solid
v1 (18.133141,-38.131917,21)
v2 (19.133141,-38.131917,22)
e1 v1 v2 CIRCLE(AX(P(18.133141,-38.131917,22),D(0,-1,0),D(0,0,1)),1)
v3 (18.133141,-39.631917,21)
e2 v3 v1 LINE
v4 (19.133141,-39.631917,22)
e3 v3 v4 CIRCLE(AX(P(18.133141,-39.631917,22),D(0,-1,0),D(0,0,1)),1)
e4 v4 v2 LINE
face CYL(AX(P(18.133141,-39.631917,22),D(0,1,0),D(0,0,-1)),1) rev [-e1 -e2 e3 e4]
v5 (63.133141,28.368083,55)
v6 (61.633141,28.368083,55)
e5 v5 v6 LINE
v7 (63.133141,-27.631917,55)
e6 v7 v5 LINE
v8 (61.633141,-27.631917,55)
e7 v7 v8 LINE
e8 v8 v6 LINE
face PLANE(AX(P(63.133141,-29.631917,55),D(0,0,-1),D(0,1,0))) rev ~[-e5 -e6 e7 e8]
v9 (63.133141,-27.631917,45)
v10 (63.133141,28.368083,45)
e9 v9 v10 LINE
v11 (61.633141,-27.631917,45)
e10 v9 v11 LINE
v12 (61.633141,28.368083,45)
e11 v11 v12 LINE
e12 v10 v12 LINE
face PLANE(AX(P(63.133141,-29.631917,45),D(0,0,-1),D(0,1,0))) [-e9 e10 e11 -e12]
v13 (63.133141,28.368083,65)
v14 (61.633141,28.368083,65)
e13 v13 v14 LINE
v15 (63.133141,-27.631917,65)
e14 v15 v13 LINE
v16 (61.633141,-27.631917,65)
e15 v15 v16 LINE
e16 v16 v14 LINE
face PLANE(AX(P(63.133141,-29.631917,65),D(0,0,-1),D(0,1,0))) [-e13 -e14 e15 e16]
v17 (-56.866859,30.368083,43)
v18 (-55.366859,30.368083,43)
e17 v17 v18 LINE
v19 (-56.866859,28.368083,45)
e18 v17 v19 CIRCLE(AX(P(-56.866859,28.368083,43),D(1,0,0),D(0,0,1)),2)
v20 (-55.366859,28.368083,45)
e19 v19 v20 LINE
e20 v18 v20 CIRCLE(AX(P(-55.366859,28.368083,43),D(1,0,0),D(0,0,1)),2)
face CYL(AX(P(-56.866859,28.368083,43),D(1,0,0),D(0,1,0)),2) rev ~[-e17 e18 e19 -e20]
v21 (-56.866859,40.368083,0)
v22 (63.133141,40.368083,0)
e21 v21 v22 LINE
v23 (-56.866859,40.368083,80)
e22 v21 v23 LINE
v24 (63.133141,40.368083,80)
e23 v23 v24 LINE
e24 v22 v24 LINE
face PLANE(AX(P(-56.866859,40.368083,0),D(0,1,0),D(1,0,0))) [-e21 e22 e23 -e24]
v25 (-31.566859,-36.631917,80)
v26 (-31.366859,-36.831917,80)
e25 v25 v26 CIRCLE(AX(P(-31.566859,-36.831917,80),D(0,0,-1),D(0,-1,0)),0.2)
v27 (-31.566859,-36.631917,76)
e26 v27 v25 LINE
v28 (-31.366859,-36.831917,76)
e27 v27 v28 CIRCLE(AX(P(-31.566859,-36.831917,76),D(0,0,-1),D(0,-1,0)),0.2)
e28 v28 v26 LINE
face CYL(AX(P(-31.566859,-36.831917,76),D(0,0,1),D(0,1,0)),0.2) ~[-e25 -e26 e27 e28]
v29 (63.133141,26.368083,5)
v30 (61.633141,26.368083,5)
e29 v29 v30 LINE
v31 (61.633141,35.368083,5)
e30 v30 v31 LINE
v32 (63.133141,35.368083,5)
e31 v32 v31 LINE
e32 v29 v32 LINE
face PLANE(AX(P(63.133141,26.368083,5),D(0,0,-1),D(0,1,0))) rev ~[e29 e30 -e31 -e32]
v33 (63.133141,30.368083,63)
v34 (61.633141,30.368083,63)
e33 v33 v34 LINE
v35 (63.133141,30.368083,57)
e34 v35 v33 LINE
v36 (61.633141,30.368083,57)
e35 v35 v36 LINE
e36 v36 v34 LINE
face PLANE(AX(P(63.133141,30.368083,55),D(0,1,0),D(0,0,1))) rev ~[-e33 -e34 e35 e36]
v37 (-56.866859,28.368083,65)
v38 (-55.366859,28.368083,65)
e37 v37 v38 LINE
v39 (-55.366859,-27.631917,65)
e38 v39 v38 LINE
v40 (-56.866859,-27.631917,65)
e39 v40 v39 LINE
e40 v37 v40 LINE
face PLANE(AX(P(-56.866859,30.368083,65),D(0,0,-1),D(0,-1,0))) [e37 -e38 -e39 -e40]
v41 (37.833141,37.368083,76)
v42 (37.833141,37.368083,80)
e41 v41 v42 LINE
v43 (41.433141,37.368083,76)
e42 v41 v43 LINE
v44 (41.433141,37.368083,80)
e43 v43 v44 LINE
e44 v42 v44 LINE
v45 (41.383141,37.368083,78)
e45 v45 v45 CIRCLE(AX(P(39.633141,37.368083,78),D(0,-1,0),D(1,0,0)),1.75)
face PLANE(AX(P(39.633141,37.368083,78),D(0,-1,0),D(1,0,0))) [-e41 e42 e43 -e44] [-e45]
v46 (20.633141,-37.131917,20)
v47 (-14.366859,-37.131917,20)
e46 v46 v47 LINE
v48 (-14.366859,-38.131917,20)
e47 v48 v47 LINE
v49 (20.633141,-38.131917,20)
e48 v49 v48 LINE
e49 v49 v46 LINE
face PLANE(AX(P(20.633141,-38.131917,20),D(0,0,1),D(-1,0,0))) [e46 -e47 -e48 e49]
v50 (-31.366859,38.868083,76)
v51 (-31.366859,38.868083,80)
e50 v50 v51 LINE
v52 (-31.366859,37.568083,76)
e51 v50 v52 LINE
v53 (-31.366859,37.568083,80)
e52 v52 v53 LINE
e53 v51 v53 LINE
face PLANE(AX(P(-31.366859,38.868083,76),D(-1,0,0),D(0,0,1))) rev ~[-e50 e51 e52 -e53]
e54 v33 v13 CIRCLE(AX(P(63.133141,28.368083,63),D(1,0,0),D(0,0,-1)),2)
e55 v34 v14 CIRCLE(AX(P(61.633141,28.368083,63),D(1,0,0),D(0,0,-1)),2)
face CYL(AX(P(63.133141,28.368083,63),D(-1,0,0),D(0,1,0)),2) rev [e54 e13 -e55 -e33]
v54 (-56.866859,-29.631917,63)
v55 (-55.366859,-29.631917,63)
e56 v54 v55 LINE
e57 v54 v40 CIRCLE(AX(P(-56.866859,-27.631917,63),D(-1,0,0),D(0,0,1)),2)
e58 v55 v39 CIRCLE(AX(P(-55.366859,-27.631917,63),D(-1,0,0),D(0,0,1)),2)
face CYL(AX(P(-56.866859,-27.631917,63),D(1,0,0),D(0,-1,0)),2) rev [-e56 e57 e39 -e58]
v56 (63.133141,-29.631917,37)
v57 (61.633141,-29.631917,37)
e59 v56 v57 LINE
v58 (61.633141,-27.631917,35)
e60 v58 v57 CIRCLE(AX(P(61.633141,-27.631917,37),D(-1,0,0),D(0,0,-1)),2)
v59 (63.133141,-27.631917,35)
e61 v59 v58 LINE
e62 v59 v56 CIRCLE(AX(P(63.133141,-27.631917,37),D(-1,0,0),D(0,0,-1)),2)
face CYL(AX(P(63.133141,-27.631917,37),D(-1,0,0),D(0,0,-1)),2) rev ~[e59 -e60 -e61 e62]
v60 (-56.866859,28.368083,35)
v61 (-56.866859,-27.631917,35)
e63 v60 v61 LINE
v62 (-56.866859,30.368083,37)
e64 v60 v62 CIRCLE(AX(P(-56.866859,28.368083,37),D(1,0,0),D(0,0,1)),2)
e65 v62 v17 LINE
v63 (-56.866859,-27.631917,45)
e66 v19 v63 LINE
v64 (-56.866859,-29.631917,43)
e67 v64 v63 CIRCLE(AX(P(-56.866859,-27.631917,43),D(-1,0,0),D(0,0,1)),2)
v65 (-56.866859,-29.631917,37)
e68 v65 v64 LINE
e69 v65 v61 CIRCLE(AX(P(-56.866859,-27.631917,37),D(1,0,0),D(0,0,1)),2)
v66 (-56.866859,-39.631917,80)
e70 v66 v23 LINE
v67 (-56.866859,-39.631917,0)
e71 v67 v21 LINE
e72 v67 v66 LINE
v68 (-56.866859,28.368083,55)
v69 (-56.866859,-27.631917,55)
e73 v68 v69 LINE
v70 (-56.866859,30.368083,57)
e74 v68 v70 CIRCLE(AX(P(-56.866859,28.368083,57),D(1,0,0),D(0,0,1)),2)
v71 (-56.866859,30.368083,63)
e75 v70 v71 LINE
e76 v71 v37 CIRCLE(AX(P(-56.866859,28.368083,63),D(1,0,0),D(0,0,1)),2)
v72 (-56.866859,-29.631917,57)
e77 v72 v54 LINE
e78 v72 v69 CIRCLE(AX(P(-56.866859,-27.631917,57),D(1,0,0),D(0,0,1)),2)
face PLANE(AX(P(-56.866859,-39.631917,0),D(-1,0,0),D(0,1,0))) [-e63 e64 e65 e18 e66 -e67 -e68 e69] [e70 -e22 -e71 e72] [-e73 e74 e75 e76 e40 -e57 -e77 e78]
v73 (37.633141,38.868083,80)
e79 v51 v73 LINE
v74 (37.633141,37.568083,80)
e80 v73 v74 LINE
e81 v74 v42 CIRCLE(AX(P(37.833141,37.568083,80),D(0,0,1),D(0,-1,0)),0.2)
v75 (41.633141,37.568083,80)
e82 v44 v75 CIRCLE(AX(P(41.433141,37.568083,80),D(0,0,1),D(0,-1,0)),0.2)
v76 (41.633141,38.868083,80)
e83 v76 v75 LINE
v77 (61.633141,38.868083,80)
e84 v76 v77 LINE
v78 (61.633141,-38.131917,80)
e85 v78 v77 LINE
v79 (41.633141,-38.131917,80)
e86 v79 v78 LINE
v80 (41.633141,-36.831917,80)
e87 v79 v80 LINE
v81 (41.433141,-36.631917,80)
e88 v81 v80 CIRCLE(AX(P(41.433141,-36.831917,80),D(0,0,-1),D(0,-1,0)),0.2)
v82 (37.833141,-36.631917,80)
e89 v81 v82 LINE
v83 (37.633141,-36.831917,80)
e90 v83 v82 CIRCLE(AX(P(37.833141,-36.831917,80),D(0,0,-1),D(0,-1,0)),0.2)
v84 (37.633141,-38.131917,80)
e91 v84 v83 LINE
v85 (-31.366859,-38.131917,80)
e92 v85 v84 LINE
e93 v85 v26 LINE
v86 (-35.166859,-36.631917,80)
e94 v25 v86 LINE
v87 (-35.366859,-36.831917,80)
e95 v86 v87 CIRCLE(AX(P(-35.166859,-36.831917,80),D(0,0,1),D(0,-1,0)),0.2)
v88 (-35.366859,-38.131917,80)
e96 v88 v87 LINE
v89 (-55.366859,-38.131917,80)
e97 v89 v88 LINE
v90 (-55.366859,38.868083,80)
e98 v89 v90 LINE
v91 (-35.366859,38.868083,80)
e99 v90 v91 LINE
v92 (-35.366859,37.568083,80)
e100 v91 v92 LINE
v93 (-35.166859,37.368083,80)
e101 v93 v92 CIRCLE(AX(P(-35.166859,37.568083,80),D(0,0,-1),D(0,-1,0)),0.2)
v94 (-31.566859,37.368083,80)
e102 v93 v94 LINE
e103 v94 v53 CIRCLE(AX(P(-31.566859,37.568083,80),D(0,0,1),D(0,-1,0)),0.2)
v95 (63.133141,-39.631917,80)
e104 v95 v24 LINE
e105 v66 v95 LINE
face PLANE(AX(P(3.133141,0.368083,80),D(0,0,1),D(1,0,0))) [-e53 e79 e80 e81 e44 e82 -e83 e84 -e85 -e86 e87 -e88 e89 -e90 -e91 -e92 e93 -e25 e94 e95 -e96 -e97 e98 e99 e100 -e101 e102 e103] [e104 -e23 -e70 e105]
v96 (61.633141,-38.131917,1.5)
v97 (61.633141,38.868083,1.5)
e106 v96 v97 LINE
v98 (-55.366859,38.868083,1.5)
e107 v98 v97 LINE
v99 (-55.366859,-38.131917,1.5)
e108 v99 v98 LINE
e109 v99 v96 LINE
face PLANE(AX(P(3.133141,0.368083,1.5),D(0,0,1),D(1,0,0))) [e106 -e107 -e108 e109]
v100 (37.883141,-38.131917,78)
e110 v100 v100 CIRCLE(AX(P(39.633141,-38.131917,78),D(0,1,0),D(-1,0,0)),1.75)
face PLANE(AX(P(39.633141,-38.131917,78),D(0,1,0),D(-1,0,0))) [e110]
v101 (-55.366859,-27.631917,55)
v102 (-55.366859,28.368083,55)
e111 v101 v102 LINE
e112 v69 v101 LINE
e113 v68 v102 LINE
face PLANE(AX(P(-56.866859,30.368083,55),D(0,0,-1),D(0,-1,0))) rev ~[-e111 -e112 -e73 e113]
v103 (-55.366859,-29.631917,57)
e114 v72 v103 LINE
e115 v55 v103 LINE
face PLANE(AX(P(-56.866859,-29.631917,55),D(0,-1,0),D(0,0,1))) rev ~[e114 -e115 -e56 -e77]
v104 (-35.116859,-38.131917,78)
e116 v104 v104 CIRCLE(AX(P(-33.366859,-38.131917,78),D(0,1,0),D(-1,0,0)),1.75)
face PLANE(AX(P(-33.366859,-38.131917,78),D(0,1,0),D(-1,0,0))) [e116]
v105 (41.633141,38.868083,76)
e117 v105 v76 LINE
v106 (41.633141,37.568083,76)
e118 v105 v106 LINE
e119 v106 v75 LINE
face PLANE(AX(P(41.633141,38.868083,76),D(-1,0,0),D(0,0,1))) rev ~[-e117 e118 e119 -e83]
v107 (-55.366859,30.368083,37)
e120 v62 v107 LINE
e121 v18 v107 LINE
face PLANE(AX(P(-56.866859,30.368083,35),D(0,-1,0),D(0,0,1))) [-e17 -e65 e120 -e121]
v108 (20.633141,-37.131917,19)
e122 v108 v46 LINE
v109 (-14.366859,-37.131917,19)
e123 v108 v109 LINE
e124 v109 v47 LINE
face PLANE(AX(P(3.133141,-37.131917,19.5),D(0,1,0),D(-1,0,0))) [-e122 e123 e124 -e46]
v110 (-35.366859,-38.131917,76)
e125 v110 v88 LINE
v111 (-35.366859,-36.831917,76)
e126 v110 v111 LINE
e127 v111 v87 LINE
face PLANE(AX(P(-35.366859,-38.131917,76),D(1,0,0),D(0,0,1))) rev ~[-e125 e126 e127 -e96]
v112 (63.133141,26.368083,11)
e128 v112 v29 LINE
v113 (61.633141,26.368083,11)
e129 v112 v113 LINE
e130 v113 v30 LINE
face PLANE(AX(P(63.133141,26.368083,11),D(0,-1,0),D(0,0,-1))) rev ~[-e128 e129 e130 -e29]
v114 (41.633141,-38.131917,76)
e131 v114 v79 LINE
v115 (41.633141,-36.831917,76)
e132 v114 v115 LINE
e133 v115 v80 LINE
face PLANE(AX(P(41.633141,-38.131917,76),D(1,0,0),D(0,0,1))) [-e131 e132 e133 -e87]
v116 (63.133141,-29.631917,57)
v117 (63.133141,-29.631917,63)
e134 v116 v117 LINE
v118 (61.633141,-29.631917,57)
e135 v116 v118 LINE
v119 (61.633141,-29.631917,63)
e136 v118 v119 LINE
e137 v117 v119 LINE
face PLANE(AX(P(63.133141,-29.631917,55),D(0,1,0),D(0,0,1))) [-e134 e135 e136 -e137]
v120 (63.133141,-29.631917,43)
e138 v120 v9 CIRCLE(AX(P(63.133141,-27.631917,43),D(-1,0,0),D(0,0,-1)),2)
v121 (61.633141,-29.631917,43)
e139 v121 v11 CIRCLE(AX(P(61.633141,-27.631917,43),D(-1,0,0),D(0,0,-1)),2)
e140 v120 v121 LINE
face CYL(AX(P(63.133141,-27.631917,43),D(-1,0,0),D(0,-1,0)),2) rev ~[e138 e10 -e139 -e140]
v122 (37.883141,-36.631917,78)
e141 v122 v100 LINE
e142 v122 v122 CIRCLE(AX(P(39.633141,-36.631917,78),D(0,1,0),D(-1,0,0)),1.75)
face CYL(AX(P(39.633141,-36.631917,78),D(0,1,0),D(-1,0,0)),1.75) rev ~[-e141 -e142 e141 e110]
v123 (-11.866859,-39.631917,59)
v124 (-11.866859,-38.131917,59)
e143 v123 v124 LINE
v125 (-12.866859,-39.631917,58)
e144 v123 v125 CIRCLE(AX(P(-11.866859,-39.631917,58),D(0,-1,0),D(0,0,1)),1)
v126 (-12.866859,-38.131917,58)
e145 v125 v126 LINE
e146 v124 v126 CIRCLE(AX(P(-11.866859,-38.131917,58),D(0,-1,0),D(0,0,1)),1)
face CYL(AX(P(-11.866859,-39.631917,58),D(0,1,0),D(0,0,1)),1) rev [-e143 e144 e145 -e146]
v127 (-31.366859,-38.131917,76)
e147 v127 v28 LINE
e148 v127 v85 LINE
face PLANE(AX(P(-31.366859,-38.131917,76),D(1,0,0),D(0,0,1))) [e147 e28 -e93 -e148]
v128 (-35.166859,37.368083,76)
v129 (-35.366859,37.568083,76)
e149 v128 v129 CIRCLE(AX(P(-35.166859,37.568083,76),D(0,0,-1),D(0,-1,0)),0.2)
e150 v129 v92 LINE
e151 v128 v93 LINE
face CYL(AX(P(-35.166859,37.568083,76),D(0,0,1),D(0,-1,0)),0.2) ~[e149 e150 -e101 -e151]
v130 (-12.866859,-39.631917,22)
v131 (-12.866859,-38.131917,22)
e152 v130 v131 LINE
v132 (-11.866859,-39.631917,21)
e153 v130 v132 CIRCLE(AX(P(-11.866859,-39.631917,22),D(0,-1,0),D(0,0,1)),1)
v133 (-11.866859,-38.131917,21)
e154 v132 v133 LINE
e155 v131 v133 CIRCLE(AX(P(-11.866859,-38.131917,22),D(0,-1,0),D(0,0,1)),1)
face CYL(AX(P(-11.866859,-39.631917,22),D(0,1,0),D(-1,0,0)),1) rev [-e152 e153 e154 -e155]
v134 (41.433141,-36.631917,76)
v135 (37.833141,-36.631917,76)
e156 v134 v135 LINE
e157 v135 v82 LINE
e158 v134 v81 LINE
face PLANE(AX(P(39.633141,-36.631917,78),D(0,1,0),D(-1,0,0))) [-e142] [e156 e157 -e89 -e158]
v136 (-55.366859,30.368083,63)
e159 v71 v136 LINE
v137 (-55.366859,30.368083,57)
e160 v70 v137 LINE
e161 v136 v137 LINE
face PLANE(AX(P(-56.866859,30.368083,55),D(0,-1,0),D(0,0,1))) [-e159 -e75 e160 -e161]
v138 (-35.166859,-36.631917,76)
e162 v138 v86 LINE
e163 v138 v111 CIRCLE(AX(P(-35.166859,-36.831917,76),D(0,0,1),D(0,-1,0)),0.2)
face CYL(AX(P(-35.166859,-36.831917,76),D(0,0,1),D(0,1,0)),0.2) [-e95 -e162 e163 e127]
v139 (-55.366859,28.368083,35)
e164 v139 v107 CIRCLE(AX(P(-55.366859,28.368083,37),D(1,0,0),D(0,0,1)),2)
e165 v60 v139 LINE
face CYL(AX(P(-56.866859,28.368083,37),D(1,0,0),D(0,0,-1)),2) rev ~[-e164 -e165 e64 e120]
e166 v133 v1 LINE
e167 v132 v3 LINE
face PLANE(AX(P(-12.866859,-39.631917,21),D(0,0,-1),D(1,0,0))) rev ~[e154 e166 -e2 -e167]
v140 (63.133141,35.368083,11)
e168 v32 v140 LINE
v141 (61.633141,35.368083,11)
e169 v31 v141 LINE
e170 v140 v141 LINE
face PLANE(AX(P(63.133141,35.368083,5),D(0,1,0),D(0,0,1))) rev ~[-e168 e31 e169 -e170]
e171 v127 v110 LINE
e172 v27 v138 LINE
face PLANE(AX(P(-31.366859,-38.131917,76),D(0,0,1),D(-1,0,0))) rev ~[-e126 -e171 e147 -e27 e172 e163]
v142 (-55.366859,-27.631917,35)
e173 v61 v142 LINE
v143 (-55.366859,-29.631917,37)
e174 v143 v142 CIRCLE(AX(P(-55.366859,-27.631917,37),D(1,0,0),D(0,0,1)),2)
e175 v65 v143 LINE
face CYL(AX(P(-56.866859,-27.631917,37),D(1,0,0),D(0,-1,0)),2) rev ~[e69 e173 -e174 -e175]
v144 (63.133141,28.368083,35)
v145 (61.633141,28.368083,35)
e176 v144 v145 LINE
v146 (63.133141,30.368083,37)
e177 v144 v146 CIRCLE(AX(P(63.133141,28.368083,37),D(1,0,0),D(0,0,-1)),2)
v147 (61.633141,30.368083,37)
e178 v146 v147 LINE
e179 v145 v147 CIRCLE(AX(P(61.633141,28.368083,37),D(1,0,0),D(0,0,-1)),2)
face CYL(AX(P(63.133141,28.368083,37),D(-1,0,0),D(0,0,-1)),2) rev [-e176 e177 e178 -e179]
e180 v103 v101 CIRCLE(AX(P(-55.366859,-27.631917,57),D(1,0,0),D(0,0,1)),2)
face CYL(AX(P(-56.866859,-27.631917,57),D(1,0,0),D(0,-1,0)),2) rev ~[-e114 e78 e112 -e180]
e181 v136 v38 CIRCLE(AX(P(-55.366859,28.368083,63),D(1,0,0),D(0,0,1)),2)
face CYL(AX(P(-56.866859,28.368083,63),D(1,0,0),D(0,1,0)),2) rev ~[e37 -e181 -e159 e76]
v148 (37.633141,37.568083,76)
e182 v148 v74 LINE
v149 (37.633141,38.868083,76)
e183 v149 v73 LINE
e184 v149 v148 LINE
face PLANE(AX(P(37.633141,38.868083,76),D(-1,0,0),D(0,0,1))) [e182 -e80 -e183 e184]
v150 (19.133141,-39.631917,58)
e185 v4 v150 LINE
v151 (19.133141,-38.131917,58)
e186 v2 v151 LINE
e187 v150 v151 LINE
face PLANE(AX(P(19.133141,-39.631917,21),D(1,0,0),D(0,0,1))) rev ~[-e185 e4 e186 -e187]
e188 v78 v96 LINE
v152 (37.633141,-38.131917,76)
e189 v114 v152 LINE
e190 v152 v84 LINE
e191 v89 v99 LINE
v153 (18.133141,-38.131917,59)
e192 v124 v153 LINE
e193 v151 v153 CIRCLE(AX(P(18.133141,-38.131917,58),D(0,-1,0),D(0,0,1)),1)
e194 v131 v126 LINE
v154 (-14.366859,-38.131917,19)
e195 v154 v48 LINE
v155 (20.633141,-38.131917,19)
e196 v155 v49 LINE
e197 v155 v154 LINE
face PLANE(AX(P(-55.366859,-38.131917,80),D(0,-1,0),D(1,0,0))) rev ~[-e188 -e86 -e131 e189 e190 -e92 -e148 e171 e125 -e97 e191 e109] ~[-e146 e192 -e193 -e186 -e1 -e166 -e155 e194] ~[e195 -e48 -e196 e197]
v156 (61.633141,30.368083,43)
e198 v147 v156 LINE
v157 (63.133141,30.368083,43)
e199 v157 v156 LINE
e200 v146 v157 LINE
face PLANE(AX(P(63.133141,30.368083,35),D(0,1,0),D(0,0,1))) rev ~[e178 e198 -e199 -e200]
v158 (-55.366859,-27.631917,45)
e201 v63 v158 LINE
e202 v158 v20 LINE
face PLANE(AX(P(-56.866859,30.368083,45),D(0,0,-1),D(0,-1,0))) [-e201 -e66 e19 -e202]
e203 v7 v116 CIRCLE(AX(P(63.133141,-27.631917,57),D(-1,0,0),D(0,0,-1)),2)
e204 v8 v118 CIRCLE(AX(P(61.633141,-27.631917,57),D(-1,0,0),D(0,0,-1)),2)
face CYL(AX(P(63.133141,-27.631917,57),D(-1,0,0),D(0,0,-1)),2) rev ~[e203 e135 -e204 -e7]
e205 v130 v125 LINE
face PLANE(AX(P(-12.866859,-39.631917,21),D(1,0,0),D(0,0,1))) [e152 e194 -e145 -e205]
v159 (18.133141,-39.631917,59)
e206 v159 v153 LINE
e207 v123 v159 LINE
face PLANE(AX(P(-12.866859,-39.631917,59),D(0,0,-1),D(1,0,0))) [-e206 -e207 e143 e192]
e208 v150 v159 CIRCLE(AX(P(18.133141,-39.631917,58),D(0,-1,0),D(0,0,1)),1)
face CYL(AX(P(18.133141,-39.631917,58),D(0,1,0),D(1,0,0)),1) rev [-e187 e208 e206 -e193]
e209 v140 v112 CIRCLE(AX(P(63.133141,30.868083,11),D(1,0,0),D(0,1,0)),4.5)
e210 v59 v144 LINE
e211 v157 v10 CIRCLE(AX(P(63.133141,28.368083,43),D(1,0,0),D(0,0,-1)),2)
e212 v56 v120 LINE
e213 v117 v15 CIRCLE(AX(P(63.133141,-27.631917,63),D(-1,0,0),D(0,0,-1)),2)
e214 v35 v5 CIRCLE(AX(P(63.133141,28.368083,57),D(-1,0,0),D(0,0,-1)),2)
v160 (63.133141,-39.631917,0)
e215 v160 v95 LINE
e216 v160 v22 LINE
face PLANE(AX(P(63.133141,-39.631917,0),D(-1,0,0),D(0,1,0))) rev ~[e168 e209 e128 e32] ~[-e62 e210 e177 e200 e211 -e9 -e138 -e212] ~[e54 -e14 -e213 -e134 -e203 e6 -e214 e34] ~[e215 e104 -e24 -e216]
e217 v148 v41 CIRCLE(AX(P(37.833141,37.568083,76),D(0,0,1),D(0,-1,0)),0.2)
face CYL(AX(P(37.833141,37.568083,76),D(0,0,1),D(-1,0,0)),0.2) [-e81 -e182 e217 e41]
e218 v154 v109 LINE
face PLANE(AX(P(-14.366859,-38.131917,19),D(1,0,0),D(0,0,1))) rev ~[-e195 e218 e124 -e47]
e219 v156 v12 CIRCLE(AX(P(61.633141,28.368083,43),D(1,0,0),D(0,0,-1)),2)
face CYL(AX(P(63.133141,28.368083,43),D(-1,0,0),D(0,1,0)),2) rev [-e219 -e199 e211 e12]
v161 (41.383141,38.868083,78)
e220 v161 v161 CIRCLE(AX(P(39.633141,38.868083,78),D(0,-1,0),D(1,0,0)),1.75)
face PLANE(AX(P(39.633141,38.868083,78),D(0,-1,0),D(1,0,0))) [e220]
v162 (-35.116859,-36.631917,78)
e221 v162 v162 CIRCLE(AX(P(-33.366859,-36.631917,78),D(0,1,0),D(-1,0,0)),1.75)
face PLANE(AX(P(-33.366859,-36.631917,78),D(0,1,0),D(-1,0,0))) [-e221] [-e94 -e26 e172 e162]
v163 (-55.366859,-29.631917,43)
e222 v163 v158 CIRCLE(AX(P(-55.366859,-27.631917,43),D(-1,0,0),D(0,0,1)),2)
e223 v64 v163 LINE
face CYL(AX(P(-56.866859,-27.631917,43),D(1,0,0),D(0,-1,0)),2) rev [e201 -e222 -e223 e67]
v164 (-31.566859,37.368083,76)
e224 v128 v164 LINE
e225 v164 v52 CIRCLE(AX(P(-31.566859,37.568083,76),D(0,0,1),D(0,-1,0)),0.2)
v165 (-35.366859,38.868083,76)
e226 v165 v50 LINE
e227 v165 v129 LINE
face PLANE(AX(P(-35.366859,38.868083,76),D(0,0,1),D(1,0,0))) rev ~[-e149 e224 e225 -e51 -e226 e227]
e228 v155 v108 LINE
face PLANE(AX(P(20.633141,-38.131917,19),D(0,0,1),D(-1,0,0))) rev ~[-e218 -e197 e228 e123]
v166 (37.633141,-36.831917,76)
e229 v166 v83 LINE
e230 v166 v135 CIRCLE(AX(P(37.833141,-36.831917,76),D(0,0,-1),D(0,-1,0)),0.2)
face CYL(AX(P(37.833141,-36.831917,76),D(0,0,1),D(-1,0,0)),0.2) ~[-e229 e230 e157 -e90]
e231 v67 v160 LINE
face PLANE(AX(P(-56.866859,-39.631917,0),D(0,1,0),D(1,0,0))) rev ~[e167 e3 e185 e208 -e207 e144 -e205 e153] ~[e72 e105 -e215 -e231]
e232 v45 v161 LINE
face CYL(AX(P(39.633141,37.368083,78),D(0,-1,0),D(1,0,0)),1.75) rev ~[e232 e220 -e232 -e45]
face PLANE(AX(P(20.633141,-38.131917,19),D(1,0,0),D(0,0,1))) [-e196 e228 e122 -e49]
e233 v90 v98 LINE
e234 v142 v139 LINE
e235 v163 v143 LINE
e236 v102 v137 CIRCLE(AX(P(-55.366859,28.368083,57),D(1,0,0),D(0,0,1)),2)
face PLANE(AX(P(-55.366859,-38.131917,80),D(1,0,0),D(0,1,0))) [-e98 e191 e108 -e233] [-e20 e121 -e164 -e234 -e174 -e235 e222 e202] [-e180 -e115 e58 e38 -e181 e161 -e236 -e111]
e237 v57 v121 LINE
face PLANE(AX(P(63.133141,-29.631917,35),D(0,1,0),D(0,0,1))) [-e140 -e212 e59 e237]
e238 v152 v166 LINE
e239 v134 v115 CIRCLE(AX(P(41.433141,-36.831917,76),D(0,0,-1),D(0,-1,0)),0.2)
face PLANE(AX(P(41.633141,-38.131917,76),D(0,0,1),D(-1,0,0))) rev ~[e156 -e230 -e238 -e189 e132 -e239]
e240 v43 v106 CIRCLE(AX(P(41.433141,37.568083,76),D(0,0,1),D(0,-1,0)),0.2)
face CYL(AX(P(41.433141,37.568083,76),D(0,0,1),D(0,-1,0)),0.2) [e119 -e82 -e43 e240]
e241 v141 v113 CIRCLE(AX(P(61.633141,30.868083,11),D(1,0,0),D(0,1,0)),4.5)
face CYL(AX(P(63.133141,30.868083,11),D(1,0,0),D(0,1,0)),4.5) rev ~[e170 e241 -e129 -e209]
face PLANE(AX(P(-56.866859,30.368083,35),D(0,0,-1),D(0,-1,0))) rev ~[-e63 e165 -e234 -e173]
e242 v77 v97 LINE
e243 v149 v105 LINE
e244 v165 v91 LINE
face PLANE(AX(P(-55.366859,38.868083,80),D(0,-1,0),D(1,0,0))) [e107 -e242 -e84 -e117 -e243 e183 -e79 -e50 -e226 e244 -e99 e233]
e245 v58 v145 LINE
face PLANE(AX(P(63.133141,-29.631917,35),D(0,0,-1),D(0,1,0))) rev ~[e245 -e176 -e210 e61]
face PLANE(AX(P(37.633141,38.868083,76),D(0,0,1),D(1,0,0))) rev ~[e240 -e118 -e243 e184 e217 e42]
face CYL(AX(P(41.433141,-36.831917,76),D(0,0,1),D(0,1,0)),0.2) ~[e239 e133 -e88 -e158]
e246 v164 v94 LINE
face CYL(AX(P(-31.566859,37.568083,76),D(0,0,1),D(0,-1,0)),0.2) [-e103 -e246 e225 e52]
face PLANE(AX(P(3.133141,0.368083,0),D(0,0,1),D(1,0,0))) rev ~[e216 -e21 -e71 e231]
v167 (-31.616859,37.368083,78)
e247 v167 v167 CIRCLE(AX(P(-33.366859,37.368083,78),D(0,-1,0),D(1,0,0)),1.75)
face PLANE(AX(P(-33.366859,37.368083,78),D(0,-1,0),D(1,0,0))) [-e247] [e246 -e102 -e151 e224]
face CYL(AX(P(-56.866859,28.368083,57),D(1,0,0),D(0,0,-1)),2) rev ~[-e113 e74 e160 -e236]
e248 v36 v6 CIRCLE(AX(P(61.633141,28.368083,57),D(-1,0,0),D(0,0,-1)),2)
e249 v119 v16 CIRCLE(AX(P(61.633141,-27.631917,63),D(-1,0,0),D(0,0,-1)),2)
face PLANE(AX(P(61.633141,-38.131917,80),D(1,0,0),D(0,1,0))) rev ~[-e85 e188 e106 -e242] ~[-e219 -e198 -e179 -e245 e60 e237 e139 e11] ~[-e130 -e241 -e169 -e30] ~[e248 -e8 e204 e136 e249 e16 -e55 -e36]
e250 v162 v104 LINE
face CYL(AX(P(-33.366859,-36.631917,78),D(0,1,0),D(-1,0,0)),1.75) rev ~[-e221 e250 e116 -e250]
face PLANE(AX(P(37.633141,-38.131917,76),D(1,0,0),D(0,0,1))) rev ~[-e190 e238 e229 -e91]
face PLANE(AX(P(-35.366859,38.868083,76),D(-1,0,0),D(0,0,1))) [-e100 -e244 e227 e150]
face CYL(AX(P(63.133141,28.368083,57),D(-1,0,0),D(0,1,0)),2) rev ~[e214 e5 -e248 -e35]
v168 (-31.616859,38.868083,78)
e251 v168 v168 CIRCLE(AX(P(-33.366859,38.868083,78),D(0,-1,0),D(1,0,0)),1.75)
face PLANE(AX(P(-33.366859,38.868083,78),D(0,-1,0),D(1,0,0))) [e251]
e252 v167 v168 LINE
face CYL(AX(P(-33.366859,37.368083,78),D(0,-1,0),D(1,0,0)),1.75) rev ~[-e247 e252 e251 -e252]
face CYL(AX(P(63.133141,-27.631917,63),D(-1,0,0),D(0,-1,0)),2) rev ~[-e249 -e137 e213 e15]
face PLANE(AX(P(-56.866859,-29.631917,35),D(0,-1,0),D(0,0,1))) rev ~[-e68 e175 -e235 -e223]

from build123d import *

# Parameters (mm, degrees)
SKETCH_W        = 120
SKETCH_H        = 80
PAD_DEPTH       = 80
SKETCH001_W     = 117
SKETCH001_H     = 77
POCKET_DEPTH    = 78.5
SKETCH002_W     = 32
SKETCH002_H     = 38
POCKET001_DEPTH = 2
SKETCH003_W     = 60
SKETCH003_H     = 10
POCKET002_DEPTH = 5
SKETCH004_W     = 60
SKETCH004_H     = 10
POCKET003_DEPTH = 5
POCKET004_DEPTH = 5
SKETCH006_W     = 4
SKETCH006_H     = 4
PAD001_DEPTH    = 1.5
SKETCH007_R     = 1.75
POCKET005_DEPTH = 1.5
SKETCH008_R     = 1.75
POCKET006_DEPTH = 1.5
SKETCH009_W     = 4
SKETCH009_H     = 4
PAD002_DEPTH    = 1.5
SKETCH010_R     = 1.75
POCKET007_DEPTH = 1.5
SKETCH011_R     = 1.75
POCKET008_DEPTH = 1.5
FILLET_R        = 1
FILLET001_R     = 1
FILLET002_R     = 1
FILLET003_R     = 1
SKETCH012_W     = 35
SKETCH012_H     = 1
PAD003_DEPTH    = 1
FILLET004_R     = 0.2
FILLET005_R     = 0.2
FILLET006_R     = 0.2
FILLET007_R     = 0.2
FILLET008_R     = 0.2
FILLET009_R     = 0.2
FILLET010_R     = 0.2
FILLET011_R     = 0.2
FILLET012_R     = 2
FILLET013_R     = 2
FILLET014_R     = 2
FILLET015_R     = 2
FILLET016_R     = 2
FILLET017_R     = 2
FILLET018_R     = 2
FILLET019_R     = 2
FILLET020_R     = 2
FILLET021_R     = 2
FILLET022_R     = 2
FILLET023_R     = 2
FILLET024_R     = 2
FILLET025_R     = 2
FILLET026_R     = 2
FILLET027_R     = 2


with BuildPart() as part:
    # Sketch → Pad (new body)
    with BuildSketch(Plane.XY):
        with Locations((3.133141, 0.368083)):
            Rectangle(SKETCH_W, SKETCH_H)
    extrude(amount=PAD_DEPTH)

    # Sketch001 (on Face6 of Pad) → Pocket (cut)
    with BuildSketch(Plane.XY.offset(80)):
        with Locations((3.133141, 0.368083)):
            Rectangle(SKETCH001_W, SKETCH001_H)
    extrude(amount=-POCKET_DEPTH, mode=Mode.SUBTRACT)

    # Sketch002 (on Face6 of Pocket) → Pocket001 (cut)
    with BuildSketch(Plane.XZ.offset(39.631917)):
        with Locations((3.133141, 40)):
            Rectangle(SKETCH002_W, SKETCH002_H)
    extrude(amount=-POCKET001_DEPTH, mode=Mode.SUBTRACT)

    # Sketch003 (on Face3 of Pocket001) → Pocket002 (cut)
    with BuildSketch(Plane.YZ.offset(63.133141)):
        with Locations((0.368083, 60)):
            Rectangle(SKETCH003_W, SKETCH003_H)
        with Locations((0.368083, 40)):
            Rectangle(SKETCH003_W, SKETCH003_H)
    extrude(amount=-POCKET002_DEPTH, mode=Mode.SUBTRACT)

    # Sketch004 (on Face2 of Pocket002) → Pocket003 (cut)
    with BuildSketch(Plane(origin=(-56.866859, 0, 0), x_dir=(0, -1, 0), z_dir=(-1, 0, 0))):
        with Locations((-0.368083, 60)):
            Rectangle(SKETCH004_W, SKETCH004_H)
        with Locations((-0.368083, 40)):
            Rectangle(SKETCH004_W, SKETCH004_H)
    extrude(amount=-POCKET003_DEPTH, mode=Mode.SUBTRACT)

    # Sketch005 (on Face3 of Pocket003) → Pocket004 (cut)
    with BuildSketch(Plane.YZ.offset(63.133141)):
        with BuildLine():
            Line((26.368083, 11), (26.368083, 5))
            Line((26.368083, 5), (35.368083, 5))
            Line((35.368083, 5), (35.368083, 11))
            ThreePointArc((35.368083, 11), (30.868083, 15.5), (26.368083, 11))
        make_face()
    extrude(amount=-POCKET004_DEPTH, mode=Mode.SUBTRACT)

    # Sketch006 (on Face27 of Pocket004) → Pad001 (join)
    with BuildSketch(Plane.XZ.offset(-38.868083)):
        with Locations((-33.366859, 78)):
            Rectangle(SKETCH006_W, SKETCH006_H)
        with Locations((39.633141, 78)):
            Rectangle(SKETCH006_W, SKETCH006_H)
    extrude(amount=PAD001_DEPTH)

    # Sketch007 (on Face44 of Pad001) → Pocket005 (cut)
    with BuildSketch(Plane.XZ.offset(-37.368083)):
        with Locations((-33.366859, 78)):
            Circle(SKETCH007_R)
    extrude(amount=-POCKET005_DEPTH, mode=Mode.SUBTRACT)

    # Sketch008 (on Face45 of Pocket005) → Pocket006 (cut)
    with BuildSketch(Plane.XZ.offset(-37.368083)):
        with Locations((39.633141, 78)):
            Circle(SKETCH008_R)
    extrude(amount=-POCKET006_DEPTH, mode=Mode.SUBTRACT)

    # Sketch009 (on Face31 of Pocket006) → Pad002 (join)
    with BuildSketch(Plane(origin=(0, -38.131917, 0), x_dir=(-1, 0, 0), z_dir=(0, 1, 0))):
        with Locations((-39.633141, 78)):
            Rectangle(SKETCH009_W, SKETCH009_H)
        with Locations((33.366859, 78)):
            Rectangle(SKETCH009_W, SKETCH009_H)
    extrude(amount=PAD002_DEPTH)

    # Sketch010 (on Face54 of Pad002) → Pocket007 (cut)
    with BuildSketch(Plane(origin=(0, -36.631917, 0), x_dir=(-1, 0, 0), z_dir=(0, 1, 0))):
        with Locations((-39.633141, 78)):
            Circle(SKETCH010_R)
    extrude(amount=-POCKET007_DEPTH, mode=Mode.SUBTRACT)

    # Sketch011 (on Face55 of Pocket007) → Pocket008 (cut)
    with BuildSketch(Plane(origin=(0, -36.631917, 0), x_dir=(-1, 0, 0), z_dir=(0, 1, 0))):
        with Locations((33.366859, 78)):
            Circle(SKETCH011_R)
    extrude(amount=-POCKET008_DEPTH, mode=Mode.SUBTRACT)

    # Fillet
    fillet_edges = [part.edges().sort_by_distance(p)[0] for p in [
        (-12.866859, -38.881917, 21),
    ]]
    fillet(fillet_edges, radius=FILLET_R)

    # Fillet001
    fillet001_edges = [part.edges().sort_by_distance(p)[0] for p in [
        (19.133141, -38.881917, 21),
    ]]
    fillet(fillet001_edges, radius=FILLET001_R)

    # Fillet002
    fillet002_edges = [part.edges().sort_by_distance(p)[0] for p in [
        (19.133141, -38.881917, 59),
    ]]
    fillet(fillet002_edges, radius=FILLET002_R)

    # Fillet003
    fillet003_edges = [part.edges().sort_by_distance(p)[0] for p in [
        (-12.866859, -38.881917, 59),
    ]]
    fillet(fillet003_edges, radius=FILLET003_R)

    # Sketch012 (on Face14 of Fillet003) → Pad003 (join)
    with BuildSketch(Plane(origin=(0, -38.131917, 0), x_dir=(-1, 0, 0), z_dir=(0, 1, 0))):
        with Locations((-3.133141, 19.5)):
            Rectangle(SKETCH012_W, SKETCH012_H)
    extrude(amount=PAD003_DEPTH)

    # Fillet004
    fillet004_edges = [part.edges().sort_by_distance(p)[0] for p in [
        (-35.366859, -36.631917, 78),
    ]]
    fillet(fillet004_edges, radius=FILLET004_R)

    # Fillet005
    fillet005_edges = [part.edges().sort_by_distance(p)[0] for p in [
        (-31.366859, -36.631917, 78),
    ]]
    fillet(fillet005_edges, radius=FILLET005_R)

    # Fillet006
    fillet006_edges = [part.edges().sort_by_distance(p)[0] for p in [
        (37.633141, -36.631917, 78),
    ]]
    fillet(fillet006_edges, radius=FILLET006_R)

    # Fillet007
    fillet007_edges = [part.edges().sort_by_distance(p)[0] for p in [
        (41.633141, -36.631917, 78),
    ]]
    fillet(fillet007_edges, radius=FILLET007_R)

    # Fillet008
    fillet008_edges = [part.edges().sort_by_distance(p)[0] for p in [
        (-35.366859, 37.368083, 78),
    ]]
    fillet(fillet008_edges, radius=FILLET008_R)

    # Fillet009
    fillet009_edges = [part.edges().sort_by_distance(p)[0] for p in [
        (-31.366859, 37.368083, 78),
    ]]
    fillet(fillet009_edges, radius=FILLET009_R)

    # Fillet010
    fillet010_edges = [part.edges().sort_by_distance(p)[0] for p in [
        (37.633141, 37.368083, 78),
    ]]
    fillet(fillet010_edges, radius=FILLET010_R)

    # Fillet011
    fillet011_edges = [part.edges().sort_by_distance(p)[0] for p in [
        (41.633141, 37.368083, 78),
    ]]
    fillet(fillet011_edges, radius=FILLET011_R)

    # Fillet012
    fillet012_edges = [part.edges().sort_by_distance(p)[0] for p in [
        (62.383141, 30.368083, 65),
    ]]
    fillet(fillet012_edges, radius=FILLET012_R)

    # Fillet013
    fillet013_edges = [part.edges().sort_by_distance(p)[0] for p in [
        (62.383141, 30.368083, 55),
    ]]
    fillet(fillet013_edges, radius=FILLET013_R)

    # Fillet014
    fillet014_edges = [part.edges().sort_by_distance(p)[0] for p in [
        (62.383141, 30.368083, 35),
    ]]
    fillet(fillet014_edges, radius=FILLET014_R)

    # Fillet015
    fillet015_edges = [part.edges().sort_by_distance(p)[0] for p in [
        (62.383141, 30.368083, 45),
    ]]
    fillet(fillet015_edges, radius=FILLET015_R)

    # Fillet016
    fillet016_edges = [part.edges().sort_by_distance(p)[0] for p in [
        (62.383141, -29.631917, 35),
    ]]
    fillet(fillet016_edges, radius=FILLET016_R)

    # Fillet017
    fillet017_edges = [part.edges().sort_by_distance(p)[0] for p in [
        (62.383141, -29.631917, 55),
    ]]
    fillet(fillet017_edges, radius=FILLET017_R)

    # Fillet018
    fillet018_edges = [part.edges().sort_by_distance(p)[0] for p in [
        (62.383141, -29.631917, 45),
    ]]
    fillet(fillet018_edges, radius=FILLET018_R)

    # Fillet019
    fillet019_edges = [part.edges().sort_by_distance(p)[0] for p in [
        (62.383141, -29.631917, 65),
    ]]
    fillet(fillet019_edges, radius=FILLET019_R)

    # Fillet020
    fillet020_edges = [part.edges().sort_by_distance(p)[0] for p in [
        (-56.116859, -29.631917, 55),
    ]]
    fillet(fillet020_edges, radius=FILLET020_R)

    # Fillet021
    fillet021_edges = [part.edges().sort_by_distance(p)[0] for p in [
        (-56.116859, -29.631917, 35),
    ]]
    fillet(fillet021_edges, radius=FILLET021_R)

    # Fillet022
    fillet022_edges = [part.edges().sort_by_distance(p)[0] for p in [
        (-56.116859, -29.631917, 45),
    ]]
    fillet(fillet022_edges, radius=FILLET022_R)

    # Fillet023
    fillet023_edges = [part.edges().sort_by_distance(p)[0] for p in [
        (-56.116859, -29.631917, 65),
    ]]
    fillet(fillet023_edges, radius=FILLET023_R)

    # Fillet024
    fillet024_edges = [part.edges().sort_by_distance(p)[0] for p in [
        (-56.116859, 30.368083, 55),
    ]]
    fillet(fillet024_edges, radius=FILLET024_R)

    # Fillet025
    fillet025_edges = [part.edges().sort_by_distance(p)[0] for p in [
        (-56.116859, 30.368083, 35),
    ]]
    fillet(fillet025_edges, radius=FILLET025_R)

    # Fillet026
    fillet026_edges = [part.edges().sort_by_distance(p)[0] for p in [
        (-56.116859, 30.368083, 65),
    ]]
    fillet(fillet026_edges, radius=FILLET026_R)

    # Fillet027
    fillet027_edges = [part.edges().sort_by_distance(p)[0] for p in [
        (-56.116859, 30.368083, 45),
    ]]
    fillet(fillet027_edges, radius=FILLET027_R)


solid = part.part
